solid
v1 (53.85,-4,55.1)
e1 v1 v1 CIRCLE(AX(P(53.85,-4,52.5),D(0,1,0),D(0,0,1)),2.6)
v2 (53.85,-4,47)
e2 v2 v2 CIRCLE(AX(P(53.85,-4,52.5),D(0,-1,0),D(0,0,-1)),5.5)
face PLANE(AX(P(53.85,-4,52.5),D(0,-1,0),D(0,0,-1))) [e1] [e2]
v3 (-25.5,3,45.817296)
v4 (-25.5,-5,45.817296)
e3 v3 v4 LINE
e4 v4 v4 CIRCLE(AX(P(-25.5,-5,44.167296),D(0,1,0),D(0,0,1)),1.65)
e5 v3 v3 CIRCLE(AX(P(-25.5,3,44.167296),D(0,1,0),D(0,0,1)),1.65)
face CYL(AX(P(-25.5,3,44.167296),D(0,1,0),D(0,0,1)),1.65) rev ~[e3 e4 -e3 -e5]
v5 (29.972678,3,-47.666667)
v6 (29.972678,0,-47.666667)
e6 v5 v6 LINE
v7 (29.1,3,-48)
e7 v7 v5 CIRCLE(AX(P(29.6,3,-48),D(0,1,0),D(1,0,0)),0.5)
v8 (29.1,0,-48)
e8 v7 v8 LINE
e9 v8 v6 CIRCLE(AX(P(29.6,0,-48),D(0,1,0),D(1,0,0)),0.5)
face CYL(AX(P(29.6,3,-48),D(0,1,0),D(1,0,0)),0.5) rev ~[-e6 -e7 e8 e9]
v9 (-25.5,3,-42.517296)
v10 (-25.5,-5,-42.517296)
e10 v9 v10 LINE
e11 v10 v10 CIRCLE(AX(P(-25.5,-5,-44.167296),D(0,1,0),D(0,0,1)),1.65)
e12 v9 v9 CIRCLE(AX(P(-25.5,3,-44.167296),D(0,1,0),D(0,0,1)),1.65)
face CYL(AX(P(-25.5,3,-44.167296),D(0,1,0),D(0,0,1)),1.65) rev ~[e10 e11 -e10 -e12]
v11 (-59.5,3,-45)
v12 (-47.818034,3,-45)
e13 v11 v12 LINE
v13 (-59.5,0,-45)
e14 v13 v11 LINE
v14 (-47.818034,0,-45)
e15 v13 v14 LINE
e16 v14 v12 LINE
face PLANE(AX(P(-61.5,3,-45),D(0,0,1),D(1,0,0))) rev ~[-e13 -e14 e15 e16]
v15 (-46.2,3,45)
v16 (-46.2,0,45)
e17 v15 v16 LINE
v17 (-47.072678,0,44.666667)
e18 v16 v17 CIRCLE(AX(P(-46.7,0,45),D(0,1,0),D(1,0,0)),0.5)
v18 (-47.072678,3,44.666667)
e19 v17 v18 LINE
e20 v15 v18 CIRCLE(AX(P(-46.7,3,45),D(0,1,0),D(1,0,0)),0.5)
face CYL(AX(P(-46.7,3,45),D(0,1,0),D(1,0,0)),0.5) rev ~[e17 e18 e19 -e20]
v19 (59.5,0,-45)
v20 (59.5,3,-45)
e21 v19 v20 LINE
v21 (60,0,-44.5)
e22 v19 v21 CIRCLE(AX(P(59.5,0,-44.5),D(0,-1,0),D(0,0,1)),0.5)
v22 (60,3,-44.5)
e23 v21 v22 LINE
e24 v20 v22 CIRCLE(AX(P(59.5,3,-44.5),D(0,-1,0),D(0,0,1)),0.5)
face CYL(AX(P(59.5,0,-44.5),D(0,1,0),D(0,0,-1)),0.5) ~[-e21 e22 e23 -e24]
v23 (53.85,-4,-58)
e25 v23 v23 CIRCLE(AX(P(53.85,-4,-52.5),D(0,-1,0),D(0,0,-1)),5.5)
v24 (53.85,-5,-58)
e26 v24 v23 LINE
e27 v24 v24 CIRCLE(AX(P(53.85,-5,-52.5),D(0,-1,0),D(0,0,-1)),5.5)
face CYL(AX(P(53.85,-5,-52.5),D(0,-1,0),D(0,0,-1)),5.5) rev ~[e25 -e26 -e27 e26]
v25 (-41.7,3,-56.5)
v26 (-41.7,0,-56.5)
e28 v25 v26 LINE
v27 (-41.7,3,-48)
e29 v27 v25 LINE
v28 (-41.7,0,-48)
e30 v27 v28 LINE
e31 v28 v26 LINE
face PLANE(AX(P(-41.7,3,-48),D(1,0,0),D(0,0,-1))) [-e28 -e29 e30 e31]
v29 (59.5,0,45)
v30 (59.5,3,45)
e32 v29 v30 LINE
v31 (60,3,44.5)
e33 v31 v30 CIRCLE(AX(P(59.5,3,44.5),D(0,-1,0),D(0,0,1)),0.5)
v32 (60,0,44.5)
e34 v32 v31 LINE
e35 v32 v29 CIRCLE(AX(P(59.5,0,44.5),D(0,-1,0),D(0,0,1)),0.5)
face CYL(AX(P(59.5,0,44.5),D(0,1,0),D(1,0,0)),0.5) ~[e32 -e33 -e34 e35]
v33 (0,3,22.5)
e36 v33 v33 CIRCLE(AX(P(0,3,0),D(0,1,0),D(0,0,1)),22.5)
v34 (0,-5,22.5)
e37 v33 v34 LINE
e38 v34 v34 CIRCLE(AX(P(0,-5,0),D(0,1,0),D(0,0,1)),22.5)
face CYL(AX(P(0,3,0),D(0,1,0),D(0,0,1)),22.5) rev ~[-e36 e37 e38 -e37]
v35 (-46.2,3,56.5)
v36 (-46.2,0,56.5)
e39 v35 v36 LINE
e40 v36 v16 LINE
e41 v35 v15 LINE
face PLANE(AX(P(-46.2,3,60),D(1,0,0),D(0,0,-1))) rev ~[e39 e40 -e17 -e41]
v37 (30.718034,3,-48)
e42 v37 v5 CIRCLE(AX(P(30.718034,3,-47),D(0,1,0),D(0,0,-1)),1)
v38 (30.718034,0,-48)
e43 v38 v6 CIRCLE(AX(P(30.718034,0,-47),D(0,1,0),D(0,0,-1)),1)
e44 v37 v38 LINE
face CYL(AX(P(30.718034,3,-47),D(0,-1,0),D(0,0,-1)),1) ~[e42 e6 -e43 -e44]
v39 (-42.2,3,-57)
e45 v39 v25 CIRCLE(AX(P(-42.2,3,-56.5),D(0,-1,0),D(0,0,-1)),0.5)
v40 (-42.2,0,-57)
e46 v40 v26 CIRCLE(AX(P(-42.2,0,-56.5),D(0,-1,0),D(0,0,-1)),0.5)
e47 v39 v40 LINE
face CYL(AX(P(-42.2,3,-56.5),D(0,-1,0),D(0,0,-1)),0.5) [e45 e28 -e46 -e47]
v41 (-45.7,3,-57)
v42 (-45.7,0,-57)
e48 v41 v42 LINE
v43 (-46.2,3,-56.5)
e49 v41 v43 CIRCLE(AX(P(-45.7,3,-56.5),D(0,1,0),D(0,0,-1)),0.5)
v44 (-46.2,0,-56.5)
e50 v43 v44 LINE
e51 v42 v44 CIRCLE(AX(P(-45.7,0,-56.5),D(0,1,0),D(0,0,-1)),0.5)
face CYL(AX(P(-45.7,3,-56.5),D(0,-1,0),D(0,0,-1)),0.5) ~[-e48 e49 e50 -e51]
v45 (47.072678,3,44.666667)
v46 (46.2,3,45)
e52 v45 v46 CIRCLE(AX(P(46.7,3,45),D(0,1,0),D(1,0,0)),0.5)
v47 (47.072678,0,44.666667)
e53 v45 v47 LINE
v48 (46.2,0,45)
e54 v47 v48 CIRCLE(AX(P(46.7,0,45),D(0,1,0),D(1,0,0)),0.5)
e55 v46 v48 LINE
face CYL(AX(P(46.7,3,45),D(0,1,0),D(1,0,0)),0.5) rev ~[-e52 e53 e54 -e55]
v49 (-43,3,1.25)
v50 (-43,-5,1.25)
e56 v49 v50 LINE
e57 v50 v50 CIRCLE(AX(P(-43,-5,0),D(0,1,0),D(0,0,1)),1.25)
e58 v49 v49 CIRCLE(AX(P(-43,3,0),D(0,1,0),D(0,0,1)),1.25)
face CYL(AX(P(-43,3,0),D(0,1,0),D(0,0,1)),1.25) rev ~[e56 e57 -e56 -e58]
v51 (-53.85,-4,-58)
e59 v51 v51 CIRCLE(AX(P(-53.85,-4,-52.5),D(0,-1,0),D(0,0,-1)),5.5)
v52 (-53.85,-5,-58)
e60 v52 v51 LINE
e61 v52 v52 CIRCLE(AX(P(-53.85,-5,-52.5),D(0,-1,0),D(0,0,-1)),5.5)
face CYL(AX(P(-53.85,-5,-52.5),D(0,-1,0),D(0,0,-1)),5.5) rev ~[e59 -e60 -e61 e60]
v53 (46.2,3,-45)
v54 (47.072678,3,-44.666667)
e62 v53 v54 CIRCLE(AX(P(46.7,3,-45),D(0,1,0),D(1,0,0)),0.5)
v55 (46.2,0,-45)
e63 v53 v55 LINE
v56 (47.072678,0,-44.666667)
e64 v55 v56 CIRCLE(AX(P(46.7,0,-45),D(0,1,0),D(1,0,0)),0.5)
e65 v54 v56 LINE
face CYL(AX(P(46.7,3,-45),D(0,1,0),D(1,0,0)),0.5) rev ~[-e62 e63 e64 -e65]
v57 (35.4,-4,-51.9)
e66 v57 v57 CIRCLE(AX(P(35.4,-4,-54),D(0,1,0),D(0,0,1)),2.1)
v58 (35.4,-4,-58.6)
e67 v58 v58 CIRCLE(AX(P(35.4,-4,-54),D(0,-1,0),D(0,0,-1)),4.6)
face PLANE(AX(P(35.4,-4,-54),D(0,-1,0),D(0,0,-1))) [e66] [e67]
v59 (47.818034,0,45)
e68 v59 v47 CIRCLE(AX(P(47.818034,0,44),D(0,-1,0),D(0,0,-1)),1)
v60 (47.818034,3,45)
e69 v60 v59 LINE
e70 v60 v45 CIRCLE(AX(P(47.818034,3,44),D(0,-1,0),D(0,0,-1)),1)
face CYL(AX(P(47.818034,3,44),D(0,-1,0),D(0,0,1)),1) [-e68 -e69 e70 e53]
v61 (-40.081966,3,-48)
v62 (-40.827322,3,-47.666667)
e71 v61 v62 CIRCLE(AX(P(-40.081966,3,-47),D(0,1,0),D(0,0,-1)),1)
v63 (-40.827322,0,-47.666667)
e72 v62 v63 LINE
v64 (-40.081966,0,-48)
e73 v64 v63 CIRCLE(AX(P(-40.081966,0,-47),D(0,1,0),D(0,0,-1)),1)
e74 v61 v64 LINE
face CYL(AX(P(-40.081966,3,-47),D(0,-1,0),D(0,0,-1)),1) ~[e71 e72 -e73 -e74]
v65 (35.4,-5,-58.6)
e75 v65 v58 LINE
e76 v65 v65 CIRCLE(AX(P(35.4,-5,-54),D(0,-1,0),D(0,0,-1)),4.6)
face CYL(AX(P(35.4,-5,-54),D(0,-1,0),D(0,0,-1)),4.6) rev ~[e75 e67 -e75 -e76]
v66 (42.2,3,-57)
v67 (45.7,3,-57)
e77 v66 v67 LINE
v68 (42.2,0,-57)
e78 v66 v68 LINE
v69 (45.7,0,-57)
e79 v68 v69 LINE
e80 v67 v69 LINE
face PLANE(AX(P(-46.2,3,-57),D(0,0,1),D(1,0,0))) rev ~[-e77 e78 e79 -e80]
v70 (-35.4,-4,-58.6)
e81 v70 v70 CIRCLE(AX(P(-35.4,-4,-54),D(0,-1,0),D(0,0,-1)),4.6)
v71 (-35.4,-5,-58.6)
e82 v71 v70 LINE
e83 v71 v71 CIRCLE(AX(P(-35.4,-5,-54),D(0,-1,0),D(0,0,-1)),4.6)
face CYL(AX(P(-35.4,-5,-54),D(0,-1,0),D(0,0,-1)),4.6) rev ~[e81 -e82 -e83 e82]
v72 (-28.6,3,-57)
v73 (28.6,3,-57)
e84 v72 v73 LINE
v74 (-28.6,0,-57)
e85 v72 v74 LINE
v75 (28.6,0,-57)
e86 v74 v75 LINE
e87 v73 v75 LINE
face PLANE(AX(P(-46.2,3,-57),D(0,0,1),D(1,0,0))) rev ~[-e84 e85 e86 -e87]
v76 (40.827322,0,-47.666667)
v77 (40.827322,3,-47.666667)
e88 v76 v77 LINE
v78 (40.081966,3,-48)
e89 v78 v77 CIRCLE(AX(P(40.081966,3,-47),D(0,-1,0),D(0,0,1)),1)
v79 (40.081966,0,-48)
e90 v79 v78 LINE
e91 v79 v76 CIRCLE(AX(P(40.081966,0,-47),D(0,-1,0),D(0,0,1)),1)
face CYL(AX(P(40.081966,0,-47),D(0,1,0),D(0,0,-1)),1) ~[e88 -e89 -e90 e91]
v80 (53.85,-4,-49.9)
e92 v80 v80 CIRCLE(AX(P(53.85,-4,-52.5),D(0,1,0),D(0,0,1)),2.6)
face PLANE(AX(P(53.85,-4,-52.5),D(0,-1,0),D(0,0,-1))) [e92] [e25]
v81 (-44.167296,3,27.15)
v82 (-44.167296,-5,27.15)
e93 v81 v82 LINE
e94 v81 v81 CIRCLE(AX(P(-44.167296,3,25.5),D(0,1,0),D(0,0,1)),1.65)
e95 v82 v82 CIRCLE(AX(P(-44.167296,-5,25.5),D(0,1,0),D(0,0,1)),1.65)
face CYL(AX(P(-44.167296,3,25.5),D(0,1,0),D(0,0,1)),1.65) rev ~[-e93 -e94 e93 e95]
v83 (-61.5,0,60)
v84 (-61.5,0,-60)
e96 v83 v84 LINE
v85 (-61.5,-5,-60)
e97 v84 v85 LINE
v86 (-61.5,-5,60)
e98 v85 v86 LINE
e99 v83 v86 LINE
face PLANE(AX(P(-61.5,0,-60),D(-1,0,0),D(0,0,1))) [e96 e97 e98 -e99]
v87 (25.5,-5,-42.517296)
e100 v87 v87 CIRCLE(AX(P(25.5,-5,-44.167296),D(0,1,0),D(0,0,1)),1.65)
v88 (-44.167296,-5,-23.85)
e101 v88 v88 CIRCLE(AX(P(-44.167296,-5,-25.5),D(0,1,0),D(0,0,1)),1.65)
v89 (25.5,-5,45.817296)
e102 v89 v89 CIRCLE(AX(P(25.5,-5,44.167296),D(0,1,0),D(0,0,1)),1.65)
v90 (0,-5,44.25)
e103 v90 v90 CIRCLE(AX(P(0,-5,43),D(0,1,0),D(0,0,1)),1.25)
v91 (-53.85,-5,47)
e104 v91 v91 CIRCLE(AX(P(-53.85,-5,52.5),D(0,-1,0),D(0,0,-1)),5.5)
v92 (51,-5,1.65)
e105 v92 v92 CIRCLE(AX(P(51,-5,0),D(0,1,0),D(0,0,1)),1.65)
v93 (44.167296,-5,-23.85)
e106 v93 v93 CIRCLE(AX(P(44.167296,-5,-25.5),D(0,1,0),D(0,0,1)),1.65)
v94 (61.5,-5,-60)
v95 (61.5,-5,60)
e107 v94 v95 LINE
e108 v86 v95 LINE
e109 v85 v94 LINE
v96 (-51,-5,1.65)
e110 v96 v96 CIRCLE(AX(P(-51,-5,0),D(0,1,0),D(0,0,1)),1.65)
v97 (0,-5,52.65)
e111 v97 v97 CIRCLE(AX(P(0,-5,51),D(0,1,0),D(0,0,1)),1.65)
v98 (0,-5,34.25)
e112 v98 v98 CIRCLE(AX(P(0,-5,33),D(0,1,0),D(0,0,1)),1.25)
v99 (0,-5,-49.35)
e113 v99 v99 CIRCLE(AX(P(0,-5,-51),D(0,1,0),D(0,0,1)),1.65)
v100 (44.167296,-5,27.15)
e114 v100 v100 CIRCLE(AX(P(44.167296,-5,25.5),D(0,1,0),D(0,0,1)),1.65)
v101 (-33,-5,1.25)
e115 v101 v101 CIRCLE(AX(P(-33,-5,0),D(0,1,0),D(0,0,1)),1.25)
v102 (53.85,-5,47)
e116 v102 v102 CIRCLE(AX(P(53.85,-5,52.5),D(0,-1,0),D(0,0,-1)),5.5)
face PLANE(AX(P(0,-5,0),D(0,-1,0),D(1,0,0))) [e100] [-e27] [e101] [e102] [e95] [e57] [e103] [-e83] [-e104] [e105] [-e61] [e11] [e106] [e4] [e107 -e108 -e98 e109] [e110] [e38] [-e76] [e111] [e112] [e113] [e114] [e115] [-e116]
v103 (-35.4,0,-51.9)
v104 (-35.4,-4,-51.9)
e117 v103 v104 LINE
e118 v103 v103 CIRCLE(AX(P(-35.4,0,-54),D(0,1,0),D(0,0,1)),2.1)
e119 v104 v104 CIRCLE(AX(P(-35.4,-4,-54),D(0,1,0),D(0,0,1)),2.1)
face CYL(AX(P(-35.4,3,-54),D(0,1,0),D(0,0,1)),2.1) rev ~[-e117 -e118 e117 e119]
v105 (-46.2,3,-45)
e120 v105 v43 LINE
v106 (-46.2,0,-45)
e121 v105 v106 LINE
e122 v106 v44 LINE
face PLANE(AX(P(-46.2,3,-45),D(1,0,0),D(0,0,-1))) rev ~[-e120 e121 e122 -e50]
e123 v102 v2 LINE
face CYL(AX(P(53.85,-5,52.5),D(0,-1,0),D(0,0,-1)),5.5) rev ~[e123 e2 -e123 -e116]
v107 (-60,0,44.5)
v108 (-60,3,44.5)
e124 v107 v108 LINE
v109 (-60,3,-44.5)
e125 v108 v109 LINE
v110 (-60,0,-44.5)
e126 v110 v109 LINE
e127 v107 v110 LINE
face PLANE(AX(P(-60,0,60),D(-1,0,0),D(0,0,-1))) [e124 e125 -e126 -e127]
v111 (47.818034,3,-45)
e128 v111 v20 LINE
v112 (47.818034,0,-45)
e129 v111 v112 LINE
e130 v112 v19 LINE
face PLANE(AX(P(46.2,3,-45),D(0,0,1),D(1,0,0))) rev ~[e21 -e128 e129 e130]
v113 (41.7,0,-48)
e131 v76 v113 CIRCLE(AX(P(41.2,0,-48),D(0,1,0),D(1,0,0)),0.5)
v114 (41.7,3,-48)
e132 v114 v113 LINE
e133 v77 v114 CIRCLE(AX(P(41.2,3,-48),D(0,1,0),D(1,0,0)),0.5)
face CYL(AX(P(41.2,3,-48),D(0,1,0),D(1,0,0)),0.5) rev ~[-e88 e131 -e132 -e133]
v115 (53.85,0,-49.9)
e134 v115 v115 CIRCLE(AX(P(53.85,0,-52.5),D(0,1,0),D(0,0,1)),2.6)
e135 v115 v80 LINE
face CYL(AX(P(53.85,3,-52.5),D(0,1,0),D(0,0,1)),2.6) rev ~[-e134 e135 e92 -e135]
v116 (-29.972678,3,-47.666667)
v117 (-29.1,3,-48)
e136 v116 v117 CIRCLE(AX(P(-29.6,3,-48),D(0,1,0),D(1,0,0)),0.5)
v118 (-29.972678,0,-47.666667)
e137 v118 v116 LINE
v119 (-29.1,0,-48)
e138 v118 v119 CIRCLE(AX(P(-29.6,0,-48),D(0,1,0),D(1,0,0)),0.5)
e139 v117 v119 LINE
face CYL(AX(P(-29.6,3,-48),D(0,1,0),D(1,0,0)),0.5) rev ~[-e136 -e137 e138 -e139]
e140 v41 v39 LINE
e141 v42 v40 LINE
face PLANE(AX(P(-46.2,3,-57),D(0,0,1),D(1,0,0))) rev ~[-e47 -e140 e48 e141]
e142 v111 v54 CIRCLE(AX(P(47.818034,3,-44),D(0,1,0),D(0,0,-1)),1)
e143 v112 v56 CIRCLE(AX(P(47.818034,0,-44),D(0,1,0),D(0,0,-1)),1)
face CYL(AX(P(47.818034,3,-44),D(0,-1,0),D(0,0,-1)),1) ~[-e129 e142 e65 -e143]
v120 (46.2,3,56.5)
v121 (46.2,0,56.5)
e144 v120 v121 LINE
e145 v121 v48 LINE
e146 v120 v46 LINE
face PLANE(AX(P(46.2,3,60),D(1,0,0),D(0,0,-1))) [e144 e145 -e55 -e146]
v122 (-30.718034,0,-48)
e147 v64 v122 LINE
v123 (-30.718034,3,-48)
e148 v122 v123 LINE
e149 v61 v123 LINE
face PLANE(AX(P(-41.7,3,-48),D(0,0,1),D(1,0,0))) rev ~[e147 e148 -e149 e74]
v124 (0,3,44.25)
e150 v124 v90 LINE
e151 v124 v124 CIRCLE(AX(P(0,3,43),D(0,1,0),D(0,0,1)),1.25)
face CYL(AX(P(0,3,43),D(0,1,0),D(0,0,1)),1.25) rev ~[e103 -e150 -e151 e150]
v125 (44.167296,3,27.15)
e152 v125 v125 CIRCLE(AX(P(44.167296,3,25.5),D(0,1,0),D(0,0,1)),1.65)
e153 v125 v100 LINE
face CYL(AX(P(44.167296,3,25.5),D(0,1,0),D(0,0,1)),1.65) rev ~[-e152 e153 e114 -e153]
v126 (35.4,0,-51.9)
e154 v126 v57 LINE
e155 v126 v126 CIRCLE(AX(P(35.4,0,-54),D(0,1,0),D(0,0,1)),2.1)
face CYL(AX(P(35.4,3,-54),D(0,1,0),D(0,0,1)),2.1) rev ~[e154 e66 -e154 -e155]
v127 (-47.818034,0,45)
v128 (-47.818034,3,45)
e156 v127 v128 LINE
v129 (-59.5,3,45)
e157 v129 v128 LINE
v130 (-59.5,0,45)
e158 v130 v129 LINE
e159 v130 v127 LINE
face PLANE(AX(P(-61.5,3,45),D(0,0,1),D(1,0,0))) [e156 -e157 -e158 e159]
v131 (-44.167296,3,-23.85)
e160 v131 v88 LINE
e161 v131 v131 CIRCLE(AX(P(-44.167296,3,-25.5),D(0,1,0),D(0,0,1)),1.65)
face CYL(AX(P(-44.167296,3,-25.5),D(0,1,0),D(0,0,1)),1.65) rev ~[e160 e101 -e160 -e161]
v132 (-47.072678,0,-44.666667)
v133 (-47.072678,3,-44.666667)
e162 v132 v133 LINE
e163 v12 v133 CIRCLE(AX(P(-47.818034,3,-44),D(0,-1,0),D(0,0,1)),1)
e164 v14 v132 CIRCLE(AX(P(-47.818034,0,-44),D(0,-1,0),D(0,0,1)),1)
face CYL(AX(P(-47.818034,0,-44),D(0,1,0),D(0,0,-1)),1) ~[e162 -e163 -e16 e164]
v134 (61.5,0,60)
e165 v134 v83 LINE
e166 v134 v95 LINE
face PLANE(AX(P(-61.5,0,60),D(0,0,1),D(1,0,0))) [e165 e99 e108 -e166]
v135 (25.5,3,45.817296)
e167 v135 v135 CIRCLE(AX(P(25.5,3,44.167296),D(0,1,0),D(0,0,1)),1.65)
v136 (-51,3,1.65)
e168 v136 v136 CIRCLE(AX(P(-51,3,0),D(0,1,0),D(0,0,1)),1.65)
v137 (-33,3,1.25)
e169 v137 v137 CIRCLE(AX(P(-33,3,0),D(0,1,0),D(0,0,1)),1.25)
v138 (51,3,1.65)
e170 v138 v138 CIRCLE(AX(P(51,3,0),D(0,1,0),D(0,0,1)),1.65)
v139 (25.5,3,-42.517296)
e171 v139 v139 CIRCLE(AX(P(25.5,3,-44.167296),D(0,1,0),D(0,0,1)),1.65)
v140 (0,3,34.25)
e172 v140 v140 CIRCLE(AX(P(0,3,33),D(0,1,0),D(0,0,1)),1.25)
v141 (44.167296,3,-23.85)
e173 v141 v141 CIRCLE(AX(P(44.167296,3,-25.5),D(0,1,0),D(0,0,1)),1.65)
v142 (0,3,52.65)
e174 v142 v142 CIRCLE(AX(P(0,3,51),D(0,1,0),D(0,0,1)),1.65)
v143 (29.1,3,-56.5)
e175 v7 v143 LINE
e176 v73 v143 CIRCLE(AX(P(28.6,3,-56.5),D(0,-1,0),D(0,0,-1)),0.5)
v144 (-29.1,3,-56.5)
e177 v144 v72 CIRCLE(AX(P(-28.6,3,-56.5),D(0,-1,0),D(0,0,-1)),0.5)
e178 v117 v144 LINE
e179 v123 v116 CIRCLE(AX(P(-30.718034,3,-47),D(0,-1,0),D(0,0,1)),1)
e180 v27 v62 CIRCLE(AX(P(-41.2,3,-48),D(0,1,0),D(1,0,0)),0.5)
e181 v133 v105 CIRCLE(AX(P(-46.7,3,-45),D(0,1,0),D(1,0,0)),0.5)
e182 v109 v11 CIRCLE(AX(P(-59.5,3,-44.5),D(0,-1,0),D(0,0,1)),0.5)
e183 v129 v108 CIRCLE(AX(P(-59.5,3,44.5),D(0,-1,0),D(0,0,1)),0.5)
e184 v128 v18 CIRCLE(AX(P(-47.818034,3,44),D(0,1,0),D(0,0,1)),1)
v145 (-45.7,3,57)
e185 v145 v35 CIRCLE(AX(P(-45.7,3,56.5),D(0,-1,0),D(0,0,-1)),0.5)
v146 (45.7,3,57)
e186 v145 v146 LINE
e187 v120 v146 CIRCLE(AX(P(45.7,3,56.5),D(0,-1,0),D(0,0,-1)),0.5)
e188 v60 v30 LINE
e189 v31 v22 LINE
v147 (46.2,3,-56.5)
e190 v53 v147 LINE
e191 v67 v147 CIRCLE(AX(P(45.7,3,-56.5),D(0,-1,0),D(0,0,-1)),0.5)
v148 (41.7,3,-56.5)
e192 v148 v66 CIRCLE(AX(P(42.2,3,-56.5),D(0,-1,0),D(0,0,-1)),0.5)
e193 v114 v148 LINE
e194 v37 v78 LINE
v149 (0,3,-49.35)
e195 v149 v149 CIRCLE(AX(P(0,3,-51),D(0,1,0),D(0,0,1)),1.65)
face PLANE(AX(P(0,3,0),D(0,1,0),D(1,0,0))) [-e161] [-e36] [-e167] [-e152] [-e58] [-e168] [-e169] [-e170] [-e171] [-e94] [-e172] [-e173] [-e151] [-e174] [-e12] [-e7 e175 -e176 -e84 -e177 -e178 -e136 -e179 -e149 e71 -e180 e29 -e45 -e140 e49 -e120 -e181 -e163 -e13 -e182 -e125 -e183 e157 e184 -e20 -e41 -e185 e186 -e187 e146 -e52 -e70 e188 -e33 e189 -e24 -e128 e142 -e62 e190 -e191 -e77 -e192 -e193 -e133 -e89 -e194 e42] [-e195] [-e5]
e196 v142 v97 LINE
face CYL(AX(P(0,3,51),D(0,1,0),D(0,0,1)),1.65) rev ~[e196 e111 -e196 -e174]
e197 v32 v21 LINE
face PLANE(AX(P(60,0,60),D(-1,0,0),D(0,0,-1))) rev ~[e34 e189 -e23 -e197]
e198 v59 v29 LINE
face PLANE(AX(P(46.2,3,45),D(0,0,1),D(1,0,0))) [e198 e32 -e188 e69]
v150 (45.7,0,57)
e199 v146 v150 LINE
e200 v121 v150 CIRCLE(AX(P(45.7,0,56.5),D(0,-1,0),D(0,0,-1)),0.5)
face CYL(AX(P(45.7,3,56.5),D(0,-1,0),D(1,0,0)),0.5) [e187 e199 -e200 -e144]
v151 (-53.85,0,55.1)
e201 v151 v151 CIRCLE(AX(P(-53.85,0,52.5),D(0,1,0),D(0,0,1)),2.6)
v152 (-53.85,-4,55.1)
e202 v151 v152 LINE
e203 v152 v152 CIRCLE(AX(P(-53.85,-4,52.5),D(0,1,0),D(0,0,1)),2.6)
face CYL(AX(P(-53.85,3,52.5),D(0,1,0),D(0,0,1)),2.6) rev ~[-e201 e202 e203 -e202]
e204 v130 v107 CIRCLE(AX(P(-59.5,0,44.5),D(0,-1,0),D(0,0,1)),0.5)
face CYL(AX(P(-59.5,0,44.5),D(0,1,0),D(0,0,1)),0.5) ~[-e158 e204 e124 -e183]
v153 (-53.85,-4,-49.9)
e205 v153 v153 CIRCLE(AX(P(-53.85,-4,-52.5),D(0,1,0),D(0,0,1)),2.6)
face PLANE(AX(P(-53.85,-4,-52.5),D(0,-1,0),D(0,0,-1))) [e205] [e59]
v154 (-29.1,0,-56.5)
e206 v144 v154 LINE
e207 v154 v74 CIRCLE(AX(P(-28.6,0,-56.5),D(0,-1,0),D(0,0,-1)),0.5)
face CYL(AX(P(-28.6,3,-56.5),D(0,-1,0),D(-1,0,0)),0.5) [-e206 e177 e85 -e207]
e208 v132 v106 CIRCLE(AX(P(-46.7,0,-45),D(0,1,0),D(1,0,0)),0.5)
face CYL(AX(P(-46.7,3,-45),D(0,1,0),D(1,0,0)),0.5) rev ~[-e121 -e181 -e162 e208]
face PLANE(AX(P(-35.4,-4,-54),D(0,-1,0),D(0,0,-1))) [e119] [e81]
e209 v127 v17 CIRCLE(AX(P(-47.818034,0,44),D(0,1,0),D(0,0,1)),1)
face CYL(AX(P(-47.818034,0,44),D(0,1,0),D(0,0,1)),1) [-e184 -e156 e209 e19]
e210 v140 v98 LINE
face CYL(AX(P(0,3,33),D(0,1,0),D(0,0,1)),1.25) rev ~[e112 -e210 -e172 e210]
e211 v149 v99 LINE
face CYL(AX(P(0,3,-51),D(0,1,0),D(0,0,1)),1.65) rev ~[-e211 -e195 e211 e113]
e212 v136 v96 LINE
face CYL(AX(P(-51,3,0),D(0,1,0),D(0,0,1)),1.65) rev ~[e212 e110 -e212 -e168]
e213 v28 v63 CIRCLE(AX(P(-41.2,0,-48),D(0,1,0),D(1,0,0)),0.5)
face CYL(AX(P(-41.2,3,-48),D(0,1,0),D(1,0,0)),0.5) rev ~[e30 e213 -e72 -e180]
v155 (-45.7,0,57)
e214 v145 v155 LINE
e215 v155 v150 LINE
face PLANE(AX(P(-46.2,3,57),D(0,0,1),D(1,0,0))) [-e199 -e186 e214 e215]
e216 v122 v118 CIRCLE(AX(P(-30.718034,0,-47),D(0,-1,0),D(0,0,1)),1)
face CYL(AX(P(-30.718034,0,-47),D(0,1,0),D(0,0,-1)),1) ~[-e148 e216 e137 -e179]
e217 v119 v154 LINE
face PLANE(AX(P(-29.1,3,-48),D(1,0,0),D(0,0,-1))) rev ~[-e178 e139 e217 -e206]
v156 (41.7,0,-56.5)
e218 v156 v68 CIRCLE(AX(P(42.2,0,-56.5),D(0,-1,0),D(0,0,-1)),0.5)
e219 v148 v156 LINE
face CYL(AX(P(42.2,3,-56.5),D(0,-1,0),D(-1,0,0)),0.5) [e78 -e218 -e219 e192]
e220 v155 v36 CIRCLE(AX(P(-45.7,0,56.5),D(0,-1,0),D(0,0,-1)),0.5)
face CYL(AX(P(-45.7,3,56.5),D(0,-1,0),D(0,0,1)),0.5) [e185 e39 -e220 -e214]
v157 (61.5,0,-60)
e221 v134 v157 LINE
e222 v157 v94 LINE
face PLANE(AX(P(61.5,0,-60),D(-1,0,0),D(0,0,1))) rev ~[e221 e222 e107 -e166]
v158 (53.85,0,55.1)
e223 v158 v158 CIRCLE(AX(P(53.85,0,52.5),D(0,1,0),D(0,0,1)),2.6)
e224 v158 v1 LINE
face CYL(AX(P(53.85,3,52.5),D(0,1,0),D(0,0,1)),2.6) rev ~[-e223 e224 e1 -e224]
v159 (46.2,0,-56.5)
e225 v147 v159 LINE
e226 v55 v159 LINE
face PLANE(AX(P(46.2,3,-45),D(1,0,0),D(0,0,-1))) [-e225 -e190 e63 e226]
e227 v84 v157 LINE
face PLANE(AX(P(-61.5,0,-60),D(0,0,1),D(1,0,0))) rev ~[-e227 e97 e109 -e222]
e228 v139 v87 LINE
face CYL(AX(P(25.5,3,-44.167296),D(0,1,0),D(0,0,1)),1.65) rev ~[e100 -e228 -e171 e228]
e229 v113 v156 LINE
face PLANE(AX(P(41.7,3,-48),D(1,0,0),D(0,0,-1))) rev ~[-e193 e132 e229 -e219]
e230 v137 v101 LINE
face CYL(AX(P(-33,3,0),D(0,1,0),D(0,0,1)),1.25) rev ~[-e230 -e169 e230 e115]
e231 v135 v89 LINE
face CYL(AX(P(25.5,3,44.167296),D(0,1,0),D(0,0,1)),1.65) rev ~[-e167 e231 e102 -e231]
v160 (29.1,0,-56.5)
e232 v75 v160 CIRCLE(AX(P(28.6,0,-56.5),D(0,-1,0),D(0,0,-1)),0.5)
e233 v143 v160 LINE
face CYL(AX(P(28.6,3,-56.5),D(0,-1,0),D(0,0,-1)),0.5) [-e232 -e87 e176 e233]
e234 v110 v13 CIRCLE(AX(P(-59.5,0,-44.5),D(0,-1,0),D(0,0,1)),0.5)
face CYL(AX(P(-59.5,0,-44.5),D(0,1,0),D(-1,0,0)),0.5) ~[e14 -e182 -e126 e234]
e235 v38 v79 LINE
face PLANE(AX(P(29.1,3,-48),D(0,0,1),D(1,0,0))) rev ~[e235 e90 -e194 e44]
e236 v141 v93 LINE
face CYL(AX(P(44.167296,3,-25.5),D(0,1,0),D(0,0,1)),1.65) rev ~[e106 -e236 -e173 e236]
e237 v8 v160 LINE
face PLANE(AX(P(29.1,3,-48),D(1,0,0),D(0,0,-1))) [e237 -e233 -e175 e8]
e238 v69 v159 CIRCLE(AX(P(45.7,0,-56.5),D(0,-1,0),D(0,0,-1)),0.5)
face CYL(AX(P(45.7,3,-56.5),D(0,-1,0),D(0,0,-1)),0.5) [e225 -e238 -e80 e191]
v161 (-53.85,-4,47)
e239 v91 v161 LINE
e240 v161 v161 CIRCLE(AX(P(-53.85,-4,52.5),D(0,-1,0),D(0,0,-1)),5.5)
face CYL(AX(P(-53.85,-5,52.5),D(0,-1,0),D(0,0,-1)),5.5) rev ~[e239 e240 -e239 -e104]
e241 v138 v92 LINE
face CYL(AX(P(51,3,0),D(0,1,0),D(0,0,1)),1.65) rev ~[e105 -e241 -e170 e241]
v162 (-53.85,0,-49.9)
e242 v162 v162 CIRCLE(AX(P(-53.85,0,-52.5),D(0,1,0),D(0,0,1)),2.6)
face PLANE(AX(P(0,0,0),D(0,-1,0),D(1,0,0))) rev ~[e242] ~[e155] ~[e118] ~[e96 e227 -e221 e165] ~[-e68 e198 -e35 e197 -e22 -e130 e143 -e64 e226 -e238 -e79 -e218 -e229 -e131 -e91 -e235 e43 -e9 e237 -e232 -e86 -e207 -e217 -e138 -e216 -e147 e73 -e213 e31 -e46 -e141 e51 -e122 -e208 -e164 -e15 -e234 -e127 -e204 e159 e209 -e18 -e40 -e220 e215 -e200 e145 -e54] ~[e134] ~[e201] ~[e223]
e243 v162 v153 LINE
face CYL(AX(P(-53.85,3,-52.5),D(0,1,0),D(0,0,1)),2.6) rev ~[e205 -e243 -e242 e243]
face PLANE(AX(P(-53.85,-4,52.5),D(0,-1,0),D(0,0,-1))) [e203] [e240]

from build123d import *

# Parameters (mm, degrees)
SKETCH_1_W          = 120
SKETCH_1_H          = 120
EXTRUDE_1_DEPTH     = 3
SKETCH_3_W          = 123
SKETCH_3_H          = 120
EXTRUDE_2_DEPTH     = 5
SKETCH_2_R          = 1.65
CUT_EXTRUDE_1_DEPTH = 87.291656607
SKETCH_5_W          = 15.3
SKETCH_5_H          = 15
SKETCH_5_W_2        = 12.6
SKETCH_5_H_2        = 12
CUT_EXTRUDE_2_DEPTH = 3
SKETCH_6_R          = 2.6
SKETCH_6_R_2        = 2.1
CUT_EXTRUDE_3_DEPTH = 87.291656607
SKETCH_7_R          = 5.5
SKETCH_7_R_2        = 4.6
CUT_EXTRUDE_4_DEPTH = 1
SKETCH_8_R          = 22.5
CUT_EXTRUDE_5_DEPTH = 87.291656607
SKETCH_9_R          = 1.25
CUT_EXTRUDE_6_DEPTH = 87.291656607
SKETCH_11_W         = 92.4
SKETCH_11_H         = 3
CUT_EXTRUDE_7_DEPTH = 3
FILLET_1_R          = 0.5
SKETCH_12_R         = 0.5
CUT_EXTRUDE_8_DEPTH = 3
FILLET_2_R          = 1


with BuildPart() as part:
    # 草图1 → 凸台-拉伸1 (new body)
    with BuildSketch(Plane(origin=(0, 0, 0), x_dir=(1, 0, 0), z_dir=(0, 1, 0))):
        Rectangle(SKETCH_1_W, SKETCH_1_H)
    extrude(amount=EXTRUDE_1_DEPTH)

    # 草图3 → 凸台-拉伸2 (add)
    with BuildSketch(Plane.XZ):
        Rectangle(SKETCH_3_W, SKETCH_3_H)
    extrude(amount=EXTRUDE_2_DEPTH)

    # 草图2 → 切除-拉伸1 (cut, through all)
    with BuildSketch(Plane(origin=(0, 3, 0), x_dir=(1, 0, 0), z_dir=(0, 1, 0))):
        with Locations(Location((-51, 0, 0), (0, 0, 270))):
            Circle(SKETCH_2_R)
        with Locations(Location((-44.167295593, -25.5, 0), (0, 0, 270))):
            Circle(SKETCH_2_R)
        with Locations(Location((-25.5, -44.167295593, 0), (0, 0, 270))):
            Circle(SKETCH_2_R)
        with Locations(Location((0, -51, 0), (0, 0, 270))):
            Circle(SKETCH_2_R)
        with Locations(Location((25.5, -44.167295593, 0), (0, 0, 270))):
            Circle(SKETCH_2_R)
        with Locations(Location((44.167295593, -25.5, 0), (0, 0, 270))):
            Circle(SKETCH_2_R)
        with Locations(Location((-25.5, 44.167295593, 0), (0, 0, 270))):
            Circle(SKETCH_2_R)
        with Locations(Location((-44.167295593, 25.5, 0), (0, 0, 270))):
            Circle(SKETCH_2_R)
        with Locations(Location((0, 51, 0), (0, 0, 270))):
            Circle(SKETCH_2_R)
        with Locations(Location((25.5, 44.167295593, 0), (0, 0, 270))):
            Circle(SKETCH_2_R)
        with Locations(Location((44.167295593, 25.5, 0), (0, 0, 270))):
            Circle(SKETCH_2_R)
        with Locations(Location((51, 0, 0), (0, 0, 270))):
            Circle(SKETCH_2_R)
    extrude(amount=-CUT_EXTRUDE_1_DEPTH, mode=Mode.SUBTRACT)

    # 草图5 → 切除-拉伸2 (cut)
    with BuildSketch(Plane(origin=(0, 3, 0), x_dir=(1, 0, 0), z_dir=(0, 1, 0))):
        with Locations((-53.85, 52.5)):
            Rectangle(SKETCH_5_W, SKETCH_5_H)
        with Locations((53.85, 52.5)):
            Rectangle(SKETCH_5_W, SKETCH_5_H)
        with Locations((-35.4, 54)):
            Rectangle(SKETCH_5_W_2, SKETCH_5_H_2)
        with Locations((35.4, 54)):
            Rectangle(SKETCH_5_W_2, SKETCH_5_H_2)
        with Locations((-53.85, -52.5)):
            Rectangle(SKETCH_5_W, SKETCH_5_H)
        with Locations((53.85, -52.5)):
            Rectangle(SKETCH_5_W, SKETCH_5_H)
    extrude(amount=-CUT_EXTRUDE_2_DEPTH, mode=Mode.SUBTRACT)

    # 草图6 → 切除-拉伸3 (cut, through all)
    with BuildSketch(Plane(origin=(0, 3, 0), x_dir=(1, 0, 0), z_dir=(0, 1, 0))):
        with Locations(Location((-53.85, -52.5, 0), (0, 0, 270))):
            Circle(SKETCH_6_R)
        with Locations(Location((53.85, -52.5, 0), (0, 0, 270))):
            Circle(SKETCH_6_R)
        with Locations(Location((-53.85, 52.5, 0), (0, 0, 270))):
            Circle(SKETCH_6_R)
        with Locations(Location((-35.4, 54, 0), (0, 0, 270))):
            Circle(SKETCH_6_R_2)
        with Locations(Location((53.85, 52.5, 0), (0, 0, 270))):
            Circle(SKETCH_6_R)
        with Locations(Location((35.4, 54, 0), (0, 0, 270))):
            Circle(SKETCH_6_R_2)
    extrude(amount=-CUT_EXTRUDE_3_DEPTH, mode=Mode.SUBTRACT)

    # 草图7 → 切除-拉伸4 (cut)
    with BuildSketch(Plane.XZ.offset(5)):
        with Locations(Location((-53.85, 52.5, 0), (0, 0, 270))):
            Circle(SKETCH_7_R)
        with Locations(Location((-53.85, -52.5, 0), (0, 0, 270))):
            Circle(SKETCH_7_R)
        with Locations(Location((-35.4, -54, 0), (0, 0, 270))):
            Circle(SKETCH_7_R_2)
        with Locations(Location((53.85, 52.5, 0), (0, 0, 270))):
            Circle(SKETCH_7_R)
        with Locations(Location((53.85, -52.5, 0), (0, 0, 270))):
            Circle(SKETCH_7_R)
        with Locations(Location((35.4, -54, 0), (0, 0, 270))):
            Circle(SKETCH_7_R_2)
    extrude(amount=-CUT_EXTRUDE_4_DEPTH, mode=Mode.SUBTRACT)

    # 草图8 → 切除-拉伸5 (cut, through all)
    with BuildSketch(Plane(origin=(0, 3, 0), x_dir=(1, 0, 0), z_dir=(0, 1, 0))):
        with Locations(Location((0, 0, 0), (0, 0, 270))):
            Circle(SKETCH_8_R)
    extrude(amount=-CUT_EXTRUDE_5_DEPTH, mode=Mode.SUBTRACT)

    # 草图9 → 切除-拉伸6 (cut, through all)
    with BuildSketch(Plane(origin=(0, 3, 0), x_dir=(1, 0, 0), z_dir=(0, 1, 0))):
        with Locations(Location((0, -43, 0), (0, 0, 270))):
            Circle(SKETCH_9_R)
        with Locations(Location((0, -33, 0), (0, 0, 270))):
            Circle(SKETCH_9_R)
        with Locations(Location((-43, 0, 0), (0, 0, 270))):
            Circle(SKETCH_9_R)
        with Locations(Location((-33, 0, 0), (0, 0, 270))):
            Circle(SKETCH_9_R)
    extrude(amount=-CUT_EXTRUDE_6_DEPTH, mode=Mode.SUBTRACT)

    # 草图11 → 切除-拉伸7 (cut)
    with BuildSketch(Plane(origin=(0, 3, 0), x_dir=(1, 0, 0), z_dir=(0, 1, 0))):
        with Locations((0, -58.5)):
            Rectangle(SKETCH_11_W, SKETCH_11_H)
        with Locations((0, 58.5)):
            Rectangle(SKETCH_11_W, SKETCH_11_H)
    extrude(amount=-CUT_EXTRUDE_7_DEPTH, mode=Mode.SUBTRACT)

    # 圆角1
    fillet_1_edges = [part.edges().sort_by_distance(p)[0] for p in [
        (-60, 1.5, 45),
        (60, 1.5, -45),
        (60, 1.5, 45),
        (-60, 1.5, -45),
        (-46.2, 1.5, 57),
        (46.2, 1.5, 57),
        (-29.1, 1.5, -57),
        (29.1, 1.5, -57),
        (-41.7, 1.5, -57),
        (41.7, 1.5, -57),
        (46.2, 1.5, -57),
        (-46.2, 1.5, -57),
    ]]
    fillet(fillet_1_edges, radius=FILLET_1_R)

    # 草图12 → 切除-拉伸8 (cut)
    with BuildSketch(Plane(origin=(0, 3, 0), x_dir=(1, 0, 0), z_dir=(0, 1, 0))):
        with Locations((-46.7, 45)):
            Circle(SKETCH_12_R)
        with Locations((-41.2, 48)):
            Circle(SKETCH_12_R)
        with Locations((-46.7, -45)):
            Circle(SKETCH_12_R)
        with Locations((41.2, 48)):
            Circle(SKETCH_12_R)
        with Locations((46.7, -45)):
            Circle(SKETCH_12_R)
        with Locations((46.7, 45)):
            Circle(SKETCH_12_R)
        with Locations((-29.6, 48)):
            Circle(SKETCH_12_R)
        with Locations((29.6, 48)):
            Circle(SKETCH_12_R)
    extrude(amount=-CUT_EXTRUDE_8_DEPTH, mode=Mode.SUBTRACT)

    # 圆角2
    fillet_2_edges = [part.edges().sort_by_distance(p)[0] for p in [
        (40.7, 1.5, -48),
        (-30.1, 1.5, -48),
        (-47.2, 1.5, 45),
        (-40.7, 1.5, -48),
        (47.2, 1.5, -45),
        (30.1, 1.5, -48),
        (47.2, 1.5, 45),
        (-47.2, 1.5, -45),
    ]]
    fillet(fillet_2_edges, radius=FILLET_2_R)


solid = part.part
